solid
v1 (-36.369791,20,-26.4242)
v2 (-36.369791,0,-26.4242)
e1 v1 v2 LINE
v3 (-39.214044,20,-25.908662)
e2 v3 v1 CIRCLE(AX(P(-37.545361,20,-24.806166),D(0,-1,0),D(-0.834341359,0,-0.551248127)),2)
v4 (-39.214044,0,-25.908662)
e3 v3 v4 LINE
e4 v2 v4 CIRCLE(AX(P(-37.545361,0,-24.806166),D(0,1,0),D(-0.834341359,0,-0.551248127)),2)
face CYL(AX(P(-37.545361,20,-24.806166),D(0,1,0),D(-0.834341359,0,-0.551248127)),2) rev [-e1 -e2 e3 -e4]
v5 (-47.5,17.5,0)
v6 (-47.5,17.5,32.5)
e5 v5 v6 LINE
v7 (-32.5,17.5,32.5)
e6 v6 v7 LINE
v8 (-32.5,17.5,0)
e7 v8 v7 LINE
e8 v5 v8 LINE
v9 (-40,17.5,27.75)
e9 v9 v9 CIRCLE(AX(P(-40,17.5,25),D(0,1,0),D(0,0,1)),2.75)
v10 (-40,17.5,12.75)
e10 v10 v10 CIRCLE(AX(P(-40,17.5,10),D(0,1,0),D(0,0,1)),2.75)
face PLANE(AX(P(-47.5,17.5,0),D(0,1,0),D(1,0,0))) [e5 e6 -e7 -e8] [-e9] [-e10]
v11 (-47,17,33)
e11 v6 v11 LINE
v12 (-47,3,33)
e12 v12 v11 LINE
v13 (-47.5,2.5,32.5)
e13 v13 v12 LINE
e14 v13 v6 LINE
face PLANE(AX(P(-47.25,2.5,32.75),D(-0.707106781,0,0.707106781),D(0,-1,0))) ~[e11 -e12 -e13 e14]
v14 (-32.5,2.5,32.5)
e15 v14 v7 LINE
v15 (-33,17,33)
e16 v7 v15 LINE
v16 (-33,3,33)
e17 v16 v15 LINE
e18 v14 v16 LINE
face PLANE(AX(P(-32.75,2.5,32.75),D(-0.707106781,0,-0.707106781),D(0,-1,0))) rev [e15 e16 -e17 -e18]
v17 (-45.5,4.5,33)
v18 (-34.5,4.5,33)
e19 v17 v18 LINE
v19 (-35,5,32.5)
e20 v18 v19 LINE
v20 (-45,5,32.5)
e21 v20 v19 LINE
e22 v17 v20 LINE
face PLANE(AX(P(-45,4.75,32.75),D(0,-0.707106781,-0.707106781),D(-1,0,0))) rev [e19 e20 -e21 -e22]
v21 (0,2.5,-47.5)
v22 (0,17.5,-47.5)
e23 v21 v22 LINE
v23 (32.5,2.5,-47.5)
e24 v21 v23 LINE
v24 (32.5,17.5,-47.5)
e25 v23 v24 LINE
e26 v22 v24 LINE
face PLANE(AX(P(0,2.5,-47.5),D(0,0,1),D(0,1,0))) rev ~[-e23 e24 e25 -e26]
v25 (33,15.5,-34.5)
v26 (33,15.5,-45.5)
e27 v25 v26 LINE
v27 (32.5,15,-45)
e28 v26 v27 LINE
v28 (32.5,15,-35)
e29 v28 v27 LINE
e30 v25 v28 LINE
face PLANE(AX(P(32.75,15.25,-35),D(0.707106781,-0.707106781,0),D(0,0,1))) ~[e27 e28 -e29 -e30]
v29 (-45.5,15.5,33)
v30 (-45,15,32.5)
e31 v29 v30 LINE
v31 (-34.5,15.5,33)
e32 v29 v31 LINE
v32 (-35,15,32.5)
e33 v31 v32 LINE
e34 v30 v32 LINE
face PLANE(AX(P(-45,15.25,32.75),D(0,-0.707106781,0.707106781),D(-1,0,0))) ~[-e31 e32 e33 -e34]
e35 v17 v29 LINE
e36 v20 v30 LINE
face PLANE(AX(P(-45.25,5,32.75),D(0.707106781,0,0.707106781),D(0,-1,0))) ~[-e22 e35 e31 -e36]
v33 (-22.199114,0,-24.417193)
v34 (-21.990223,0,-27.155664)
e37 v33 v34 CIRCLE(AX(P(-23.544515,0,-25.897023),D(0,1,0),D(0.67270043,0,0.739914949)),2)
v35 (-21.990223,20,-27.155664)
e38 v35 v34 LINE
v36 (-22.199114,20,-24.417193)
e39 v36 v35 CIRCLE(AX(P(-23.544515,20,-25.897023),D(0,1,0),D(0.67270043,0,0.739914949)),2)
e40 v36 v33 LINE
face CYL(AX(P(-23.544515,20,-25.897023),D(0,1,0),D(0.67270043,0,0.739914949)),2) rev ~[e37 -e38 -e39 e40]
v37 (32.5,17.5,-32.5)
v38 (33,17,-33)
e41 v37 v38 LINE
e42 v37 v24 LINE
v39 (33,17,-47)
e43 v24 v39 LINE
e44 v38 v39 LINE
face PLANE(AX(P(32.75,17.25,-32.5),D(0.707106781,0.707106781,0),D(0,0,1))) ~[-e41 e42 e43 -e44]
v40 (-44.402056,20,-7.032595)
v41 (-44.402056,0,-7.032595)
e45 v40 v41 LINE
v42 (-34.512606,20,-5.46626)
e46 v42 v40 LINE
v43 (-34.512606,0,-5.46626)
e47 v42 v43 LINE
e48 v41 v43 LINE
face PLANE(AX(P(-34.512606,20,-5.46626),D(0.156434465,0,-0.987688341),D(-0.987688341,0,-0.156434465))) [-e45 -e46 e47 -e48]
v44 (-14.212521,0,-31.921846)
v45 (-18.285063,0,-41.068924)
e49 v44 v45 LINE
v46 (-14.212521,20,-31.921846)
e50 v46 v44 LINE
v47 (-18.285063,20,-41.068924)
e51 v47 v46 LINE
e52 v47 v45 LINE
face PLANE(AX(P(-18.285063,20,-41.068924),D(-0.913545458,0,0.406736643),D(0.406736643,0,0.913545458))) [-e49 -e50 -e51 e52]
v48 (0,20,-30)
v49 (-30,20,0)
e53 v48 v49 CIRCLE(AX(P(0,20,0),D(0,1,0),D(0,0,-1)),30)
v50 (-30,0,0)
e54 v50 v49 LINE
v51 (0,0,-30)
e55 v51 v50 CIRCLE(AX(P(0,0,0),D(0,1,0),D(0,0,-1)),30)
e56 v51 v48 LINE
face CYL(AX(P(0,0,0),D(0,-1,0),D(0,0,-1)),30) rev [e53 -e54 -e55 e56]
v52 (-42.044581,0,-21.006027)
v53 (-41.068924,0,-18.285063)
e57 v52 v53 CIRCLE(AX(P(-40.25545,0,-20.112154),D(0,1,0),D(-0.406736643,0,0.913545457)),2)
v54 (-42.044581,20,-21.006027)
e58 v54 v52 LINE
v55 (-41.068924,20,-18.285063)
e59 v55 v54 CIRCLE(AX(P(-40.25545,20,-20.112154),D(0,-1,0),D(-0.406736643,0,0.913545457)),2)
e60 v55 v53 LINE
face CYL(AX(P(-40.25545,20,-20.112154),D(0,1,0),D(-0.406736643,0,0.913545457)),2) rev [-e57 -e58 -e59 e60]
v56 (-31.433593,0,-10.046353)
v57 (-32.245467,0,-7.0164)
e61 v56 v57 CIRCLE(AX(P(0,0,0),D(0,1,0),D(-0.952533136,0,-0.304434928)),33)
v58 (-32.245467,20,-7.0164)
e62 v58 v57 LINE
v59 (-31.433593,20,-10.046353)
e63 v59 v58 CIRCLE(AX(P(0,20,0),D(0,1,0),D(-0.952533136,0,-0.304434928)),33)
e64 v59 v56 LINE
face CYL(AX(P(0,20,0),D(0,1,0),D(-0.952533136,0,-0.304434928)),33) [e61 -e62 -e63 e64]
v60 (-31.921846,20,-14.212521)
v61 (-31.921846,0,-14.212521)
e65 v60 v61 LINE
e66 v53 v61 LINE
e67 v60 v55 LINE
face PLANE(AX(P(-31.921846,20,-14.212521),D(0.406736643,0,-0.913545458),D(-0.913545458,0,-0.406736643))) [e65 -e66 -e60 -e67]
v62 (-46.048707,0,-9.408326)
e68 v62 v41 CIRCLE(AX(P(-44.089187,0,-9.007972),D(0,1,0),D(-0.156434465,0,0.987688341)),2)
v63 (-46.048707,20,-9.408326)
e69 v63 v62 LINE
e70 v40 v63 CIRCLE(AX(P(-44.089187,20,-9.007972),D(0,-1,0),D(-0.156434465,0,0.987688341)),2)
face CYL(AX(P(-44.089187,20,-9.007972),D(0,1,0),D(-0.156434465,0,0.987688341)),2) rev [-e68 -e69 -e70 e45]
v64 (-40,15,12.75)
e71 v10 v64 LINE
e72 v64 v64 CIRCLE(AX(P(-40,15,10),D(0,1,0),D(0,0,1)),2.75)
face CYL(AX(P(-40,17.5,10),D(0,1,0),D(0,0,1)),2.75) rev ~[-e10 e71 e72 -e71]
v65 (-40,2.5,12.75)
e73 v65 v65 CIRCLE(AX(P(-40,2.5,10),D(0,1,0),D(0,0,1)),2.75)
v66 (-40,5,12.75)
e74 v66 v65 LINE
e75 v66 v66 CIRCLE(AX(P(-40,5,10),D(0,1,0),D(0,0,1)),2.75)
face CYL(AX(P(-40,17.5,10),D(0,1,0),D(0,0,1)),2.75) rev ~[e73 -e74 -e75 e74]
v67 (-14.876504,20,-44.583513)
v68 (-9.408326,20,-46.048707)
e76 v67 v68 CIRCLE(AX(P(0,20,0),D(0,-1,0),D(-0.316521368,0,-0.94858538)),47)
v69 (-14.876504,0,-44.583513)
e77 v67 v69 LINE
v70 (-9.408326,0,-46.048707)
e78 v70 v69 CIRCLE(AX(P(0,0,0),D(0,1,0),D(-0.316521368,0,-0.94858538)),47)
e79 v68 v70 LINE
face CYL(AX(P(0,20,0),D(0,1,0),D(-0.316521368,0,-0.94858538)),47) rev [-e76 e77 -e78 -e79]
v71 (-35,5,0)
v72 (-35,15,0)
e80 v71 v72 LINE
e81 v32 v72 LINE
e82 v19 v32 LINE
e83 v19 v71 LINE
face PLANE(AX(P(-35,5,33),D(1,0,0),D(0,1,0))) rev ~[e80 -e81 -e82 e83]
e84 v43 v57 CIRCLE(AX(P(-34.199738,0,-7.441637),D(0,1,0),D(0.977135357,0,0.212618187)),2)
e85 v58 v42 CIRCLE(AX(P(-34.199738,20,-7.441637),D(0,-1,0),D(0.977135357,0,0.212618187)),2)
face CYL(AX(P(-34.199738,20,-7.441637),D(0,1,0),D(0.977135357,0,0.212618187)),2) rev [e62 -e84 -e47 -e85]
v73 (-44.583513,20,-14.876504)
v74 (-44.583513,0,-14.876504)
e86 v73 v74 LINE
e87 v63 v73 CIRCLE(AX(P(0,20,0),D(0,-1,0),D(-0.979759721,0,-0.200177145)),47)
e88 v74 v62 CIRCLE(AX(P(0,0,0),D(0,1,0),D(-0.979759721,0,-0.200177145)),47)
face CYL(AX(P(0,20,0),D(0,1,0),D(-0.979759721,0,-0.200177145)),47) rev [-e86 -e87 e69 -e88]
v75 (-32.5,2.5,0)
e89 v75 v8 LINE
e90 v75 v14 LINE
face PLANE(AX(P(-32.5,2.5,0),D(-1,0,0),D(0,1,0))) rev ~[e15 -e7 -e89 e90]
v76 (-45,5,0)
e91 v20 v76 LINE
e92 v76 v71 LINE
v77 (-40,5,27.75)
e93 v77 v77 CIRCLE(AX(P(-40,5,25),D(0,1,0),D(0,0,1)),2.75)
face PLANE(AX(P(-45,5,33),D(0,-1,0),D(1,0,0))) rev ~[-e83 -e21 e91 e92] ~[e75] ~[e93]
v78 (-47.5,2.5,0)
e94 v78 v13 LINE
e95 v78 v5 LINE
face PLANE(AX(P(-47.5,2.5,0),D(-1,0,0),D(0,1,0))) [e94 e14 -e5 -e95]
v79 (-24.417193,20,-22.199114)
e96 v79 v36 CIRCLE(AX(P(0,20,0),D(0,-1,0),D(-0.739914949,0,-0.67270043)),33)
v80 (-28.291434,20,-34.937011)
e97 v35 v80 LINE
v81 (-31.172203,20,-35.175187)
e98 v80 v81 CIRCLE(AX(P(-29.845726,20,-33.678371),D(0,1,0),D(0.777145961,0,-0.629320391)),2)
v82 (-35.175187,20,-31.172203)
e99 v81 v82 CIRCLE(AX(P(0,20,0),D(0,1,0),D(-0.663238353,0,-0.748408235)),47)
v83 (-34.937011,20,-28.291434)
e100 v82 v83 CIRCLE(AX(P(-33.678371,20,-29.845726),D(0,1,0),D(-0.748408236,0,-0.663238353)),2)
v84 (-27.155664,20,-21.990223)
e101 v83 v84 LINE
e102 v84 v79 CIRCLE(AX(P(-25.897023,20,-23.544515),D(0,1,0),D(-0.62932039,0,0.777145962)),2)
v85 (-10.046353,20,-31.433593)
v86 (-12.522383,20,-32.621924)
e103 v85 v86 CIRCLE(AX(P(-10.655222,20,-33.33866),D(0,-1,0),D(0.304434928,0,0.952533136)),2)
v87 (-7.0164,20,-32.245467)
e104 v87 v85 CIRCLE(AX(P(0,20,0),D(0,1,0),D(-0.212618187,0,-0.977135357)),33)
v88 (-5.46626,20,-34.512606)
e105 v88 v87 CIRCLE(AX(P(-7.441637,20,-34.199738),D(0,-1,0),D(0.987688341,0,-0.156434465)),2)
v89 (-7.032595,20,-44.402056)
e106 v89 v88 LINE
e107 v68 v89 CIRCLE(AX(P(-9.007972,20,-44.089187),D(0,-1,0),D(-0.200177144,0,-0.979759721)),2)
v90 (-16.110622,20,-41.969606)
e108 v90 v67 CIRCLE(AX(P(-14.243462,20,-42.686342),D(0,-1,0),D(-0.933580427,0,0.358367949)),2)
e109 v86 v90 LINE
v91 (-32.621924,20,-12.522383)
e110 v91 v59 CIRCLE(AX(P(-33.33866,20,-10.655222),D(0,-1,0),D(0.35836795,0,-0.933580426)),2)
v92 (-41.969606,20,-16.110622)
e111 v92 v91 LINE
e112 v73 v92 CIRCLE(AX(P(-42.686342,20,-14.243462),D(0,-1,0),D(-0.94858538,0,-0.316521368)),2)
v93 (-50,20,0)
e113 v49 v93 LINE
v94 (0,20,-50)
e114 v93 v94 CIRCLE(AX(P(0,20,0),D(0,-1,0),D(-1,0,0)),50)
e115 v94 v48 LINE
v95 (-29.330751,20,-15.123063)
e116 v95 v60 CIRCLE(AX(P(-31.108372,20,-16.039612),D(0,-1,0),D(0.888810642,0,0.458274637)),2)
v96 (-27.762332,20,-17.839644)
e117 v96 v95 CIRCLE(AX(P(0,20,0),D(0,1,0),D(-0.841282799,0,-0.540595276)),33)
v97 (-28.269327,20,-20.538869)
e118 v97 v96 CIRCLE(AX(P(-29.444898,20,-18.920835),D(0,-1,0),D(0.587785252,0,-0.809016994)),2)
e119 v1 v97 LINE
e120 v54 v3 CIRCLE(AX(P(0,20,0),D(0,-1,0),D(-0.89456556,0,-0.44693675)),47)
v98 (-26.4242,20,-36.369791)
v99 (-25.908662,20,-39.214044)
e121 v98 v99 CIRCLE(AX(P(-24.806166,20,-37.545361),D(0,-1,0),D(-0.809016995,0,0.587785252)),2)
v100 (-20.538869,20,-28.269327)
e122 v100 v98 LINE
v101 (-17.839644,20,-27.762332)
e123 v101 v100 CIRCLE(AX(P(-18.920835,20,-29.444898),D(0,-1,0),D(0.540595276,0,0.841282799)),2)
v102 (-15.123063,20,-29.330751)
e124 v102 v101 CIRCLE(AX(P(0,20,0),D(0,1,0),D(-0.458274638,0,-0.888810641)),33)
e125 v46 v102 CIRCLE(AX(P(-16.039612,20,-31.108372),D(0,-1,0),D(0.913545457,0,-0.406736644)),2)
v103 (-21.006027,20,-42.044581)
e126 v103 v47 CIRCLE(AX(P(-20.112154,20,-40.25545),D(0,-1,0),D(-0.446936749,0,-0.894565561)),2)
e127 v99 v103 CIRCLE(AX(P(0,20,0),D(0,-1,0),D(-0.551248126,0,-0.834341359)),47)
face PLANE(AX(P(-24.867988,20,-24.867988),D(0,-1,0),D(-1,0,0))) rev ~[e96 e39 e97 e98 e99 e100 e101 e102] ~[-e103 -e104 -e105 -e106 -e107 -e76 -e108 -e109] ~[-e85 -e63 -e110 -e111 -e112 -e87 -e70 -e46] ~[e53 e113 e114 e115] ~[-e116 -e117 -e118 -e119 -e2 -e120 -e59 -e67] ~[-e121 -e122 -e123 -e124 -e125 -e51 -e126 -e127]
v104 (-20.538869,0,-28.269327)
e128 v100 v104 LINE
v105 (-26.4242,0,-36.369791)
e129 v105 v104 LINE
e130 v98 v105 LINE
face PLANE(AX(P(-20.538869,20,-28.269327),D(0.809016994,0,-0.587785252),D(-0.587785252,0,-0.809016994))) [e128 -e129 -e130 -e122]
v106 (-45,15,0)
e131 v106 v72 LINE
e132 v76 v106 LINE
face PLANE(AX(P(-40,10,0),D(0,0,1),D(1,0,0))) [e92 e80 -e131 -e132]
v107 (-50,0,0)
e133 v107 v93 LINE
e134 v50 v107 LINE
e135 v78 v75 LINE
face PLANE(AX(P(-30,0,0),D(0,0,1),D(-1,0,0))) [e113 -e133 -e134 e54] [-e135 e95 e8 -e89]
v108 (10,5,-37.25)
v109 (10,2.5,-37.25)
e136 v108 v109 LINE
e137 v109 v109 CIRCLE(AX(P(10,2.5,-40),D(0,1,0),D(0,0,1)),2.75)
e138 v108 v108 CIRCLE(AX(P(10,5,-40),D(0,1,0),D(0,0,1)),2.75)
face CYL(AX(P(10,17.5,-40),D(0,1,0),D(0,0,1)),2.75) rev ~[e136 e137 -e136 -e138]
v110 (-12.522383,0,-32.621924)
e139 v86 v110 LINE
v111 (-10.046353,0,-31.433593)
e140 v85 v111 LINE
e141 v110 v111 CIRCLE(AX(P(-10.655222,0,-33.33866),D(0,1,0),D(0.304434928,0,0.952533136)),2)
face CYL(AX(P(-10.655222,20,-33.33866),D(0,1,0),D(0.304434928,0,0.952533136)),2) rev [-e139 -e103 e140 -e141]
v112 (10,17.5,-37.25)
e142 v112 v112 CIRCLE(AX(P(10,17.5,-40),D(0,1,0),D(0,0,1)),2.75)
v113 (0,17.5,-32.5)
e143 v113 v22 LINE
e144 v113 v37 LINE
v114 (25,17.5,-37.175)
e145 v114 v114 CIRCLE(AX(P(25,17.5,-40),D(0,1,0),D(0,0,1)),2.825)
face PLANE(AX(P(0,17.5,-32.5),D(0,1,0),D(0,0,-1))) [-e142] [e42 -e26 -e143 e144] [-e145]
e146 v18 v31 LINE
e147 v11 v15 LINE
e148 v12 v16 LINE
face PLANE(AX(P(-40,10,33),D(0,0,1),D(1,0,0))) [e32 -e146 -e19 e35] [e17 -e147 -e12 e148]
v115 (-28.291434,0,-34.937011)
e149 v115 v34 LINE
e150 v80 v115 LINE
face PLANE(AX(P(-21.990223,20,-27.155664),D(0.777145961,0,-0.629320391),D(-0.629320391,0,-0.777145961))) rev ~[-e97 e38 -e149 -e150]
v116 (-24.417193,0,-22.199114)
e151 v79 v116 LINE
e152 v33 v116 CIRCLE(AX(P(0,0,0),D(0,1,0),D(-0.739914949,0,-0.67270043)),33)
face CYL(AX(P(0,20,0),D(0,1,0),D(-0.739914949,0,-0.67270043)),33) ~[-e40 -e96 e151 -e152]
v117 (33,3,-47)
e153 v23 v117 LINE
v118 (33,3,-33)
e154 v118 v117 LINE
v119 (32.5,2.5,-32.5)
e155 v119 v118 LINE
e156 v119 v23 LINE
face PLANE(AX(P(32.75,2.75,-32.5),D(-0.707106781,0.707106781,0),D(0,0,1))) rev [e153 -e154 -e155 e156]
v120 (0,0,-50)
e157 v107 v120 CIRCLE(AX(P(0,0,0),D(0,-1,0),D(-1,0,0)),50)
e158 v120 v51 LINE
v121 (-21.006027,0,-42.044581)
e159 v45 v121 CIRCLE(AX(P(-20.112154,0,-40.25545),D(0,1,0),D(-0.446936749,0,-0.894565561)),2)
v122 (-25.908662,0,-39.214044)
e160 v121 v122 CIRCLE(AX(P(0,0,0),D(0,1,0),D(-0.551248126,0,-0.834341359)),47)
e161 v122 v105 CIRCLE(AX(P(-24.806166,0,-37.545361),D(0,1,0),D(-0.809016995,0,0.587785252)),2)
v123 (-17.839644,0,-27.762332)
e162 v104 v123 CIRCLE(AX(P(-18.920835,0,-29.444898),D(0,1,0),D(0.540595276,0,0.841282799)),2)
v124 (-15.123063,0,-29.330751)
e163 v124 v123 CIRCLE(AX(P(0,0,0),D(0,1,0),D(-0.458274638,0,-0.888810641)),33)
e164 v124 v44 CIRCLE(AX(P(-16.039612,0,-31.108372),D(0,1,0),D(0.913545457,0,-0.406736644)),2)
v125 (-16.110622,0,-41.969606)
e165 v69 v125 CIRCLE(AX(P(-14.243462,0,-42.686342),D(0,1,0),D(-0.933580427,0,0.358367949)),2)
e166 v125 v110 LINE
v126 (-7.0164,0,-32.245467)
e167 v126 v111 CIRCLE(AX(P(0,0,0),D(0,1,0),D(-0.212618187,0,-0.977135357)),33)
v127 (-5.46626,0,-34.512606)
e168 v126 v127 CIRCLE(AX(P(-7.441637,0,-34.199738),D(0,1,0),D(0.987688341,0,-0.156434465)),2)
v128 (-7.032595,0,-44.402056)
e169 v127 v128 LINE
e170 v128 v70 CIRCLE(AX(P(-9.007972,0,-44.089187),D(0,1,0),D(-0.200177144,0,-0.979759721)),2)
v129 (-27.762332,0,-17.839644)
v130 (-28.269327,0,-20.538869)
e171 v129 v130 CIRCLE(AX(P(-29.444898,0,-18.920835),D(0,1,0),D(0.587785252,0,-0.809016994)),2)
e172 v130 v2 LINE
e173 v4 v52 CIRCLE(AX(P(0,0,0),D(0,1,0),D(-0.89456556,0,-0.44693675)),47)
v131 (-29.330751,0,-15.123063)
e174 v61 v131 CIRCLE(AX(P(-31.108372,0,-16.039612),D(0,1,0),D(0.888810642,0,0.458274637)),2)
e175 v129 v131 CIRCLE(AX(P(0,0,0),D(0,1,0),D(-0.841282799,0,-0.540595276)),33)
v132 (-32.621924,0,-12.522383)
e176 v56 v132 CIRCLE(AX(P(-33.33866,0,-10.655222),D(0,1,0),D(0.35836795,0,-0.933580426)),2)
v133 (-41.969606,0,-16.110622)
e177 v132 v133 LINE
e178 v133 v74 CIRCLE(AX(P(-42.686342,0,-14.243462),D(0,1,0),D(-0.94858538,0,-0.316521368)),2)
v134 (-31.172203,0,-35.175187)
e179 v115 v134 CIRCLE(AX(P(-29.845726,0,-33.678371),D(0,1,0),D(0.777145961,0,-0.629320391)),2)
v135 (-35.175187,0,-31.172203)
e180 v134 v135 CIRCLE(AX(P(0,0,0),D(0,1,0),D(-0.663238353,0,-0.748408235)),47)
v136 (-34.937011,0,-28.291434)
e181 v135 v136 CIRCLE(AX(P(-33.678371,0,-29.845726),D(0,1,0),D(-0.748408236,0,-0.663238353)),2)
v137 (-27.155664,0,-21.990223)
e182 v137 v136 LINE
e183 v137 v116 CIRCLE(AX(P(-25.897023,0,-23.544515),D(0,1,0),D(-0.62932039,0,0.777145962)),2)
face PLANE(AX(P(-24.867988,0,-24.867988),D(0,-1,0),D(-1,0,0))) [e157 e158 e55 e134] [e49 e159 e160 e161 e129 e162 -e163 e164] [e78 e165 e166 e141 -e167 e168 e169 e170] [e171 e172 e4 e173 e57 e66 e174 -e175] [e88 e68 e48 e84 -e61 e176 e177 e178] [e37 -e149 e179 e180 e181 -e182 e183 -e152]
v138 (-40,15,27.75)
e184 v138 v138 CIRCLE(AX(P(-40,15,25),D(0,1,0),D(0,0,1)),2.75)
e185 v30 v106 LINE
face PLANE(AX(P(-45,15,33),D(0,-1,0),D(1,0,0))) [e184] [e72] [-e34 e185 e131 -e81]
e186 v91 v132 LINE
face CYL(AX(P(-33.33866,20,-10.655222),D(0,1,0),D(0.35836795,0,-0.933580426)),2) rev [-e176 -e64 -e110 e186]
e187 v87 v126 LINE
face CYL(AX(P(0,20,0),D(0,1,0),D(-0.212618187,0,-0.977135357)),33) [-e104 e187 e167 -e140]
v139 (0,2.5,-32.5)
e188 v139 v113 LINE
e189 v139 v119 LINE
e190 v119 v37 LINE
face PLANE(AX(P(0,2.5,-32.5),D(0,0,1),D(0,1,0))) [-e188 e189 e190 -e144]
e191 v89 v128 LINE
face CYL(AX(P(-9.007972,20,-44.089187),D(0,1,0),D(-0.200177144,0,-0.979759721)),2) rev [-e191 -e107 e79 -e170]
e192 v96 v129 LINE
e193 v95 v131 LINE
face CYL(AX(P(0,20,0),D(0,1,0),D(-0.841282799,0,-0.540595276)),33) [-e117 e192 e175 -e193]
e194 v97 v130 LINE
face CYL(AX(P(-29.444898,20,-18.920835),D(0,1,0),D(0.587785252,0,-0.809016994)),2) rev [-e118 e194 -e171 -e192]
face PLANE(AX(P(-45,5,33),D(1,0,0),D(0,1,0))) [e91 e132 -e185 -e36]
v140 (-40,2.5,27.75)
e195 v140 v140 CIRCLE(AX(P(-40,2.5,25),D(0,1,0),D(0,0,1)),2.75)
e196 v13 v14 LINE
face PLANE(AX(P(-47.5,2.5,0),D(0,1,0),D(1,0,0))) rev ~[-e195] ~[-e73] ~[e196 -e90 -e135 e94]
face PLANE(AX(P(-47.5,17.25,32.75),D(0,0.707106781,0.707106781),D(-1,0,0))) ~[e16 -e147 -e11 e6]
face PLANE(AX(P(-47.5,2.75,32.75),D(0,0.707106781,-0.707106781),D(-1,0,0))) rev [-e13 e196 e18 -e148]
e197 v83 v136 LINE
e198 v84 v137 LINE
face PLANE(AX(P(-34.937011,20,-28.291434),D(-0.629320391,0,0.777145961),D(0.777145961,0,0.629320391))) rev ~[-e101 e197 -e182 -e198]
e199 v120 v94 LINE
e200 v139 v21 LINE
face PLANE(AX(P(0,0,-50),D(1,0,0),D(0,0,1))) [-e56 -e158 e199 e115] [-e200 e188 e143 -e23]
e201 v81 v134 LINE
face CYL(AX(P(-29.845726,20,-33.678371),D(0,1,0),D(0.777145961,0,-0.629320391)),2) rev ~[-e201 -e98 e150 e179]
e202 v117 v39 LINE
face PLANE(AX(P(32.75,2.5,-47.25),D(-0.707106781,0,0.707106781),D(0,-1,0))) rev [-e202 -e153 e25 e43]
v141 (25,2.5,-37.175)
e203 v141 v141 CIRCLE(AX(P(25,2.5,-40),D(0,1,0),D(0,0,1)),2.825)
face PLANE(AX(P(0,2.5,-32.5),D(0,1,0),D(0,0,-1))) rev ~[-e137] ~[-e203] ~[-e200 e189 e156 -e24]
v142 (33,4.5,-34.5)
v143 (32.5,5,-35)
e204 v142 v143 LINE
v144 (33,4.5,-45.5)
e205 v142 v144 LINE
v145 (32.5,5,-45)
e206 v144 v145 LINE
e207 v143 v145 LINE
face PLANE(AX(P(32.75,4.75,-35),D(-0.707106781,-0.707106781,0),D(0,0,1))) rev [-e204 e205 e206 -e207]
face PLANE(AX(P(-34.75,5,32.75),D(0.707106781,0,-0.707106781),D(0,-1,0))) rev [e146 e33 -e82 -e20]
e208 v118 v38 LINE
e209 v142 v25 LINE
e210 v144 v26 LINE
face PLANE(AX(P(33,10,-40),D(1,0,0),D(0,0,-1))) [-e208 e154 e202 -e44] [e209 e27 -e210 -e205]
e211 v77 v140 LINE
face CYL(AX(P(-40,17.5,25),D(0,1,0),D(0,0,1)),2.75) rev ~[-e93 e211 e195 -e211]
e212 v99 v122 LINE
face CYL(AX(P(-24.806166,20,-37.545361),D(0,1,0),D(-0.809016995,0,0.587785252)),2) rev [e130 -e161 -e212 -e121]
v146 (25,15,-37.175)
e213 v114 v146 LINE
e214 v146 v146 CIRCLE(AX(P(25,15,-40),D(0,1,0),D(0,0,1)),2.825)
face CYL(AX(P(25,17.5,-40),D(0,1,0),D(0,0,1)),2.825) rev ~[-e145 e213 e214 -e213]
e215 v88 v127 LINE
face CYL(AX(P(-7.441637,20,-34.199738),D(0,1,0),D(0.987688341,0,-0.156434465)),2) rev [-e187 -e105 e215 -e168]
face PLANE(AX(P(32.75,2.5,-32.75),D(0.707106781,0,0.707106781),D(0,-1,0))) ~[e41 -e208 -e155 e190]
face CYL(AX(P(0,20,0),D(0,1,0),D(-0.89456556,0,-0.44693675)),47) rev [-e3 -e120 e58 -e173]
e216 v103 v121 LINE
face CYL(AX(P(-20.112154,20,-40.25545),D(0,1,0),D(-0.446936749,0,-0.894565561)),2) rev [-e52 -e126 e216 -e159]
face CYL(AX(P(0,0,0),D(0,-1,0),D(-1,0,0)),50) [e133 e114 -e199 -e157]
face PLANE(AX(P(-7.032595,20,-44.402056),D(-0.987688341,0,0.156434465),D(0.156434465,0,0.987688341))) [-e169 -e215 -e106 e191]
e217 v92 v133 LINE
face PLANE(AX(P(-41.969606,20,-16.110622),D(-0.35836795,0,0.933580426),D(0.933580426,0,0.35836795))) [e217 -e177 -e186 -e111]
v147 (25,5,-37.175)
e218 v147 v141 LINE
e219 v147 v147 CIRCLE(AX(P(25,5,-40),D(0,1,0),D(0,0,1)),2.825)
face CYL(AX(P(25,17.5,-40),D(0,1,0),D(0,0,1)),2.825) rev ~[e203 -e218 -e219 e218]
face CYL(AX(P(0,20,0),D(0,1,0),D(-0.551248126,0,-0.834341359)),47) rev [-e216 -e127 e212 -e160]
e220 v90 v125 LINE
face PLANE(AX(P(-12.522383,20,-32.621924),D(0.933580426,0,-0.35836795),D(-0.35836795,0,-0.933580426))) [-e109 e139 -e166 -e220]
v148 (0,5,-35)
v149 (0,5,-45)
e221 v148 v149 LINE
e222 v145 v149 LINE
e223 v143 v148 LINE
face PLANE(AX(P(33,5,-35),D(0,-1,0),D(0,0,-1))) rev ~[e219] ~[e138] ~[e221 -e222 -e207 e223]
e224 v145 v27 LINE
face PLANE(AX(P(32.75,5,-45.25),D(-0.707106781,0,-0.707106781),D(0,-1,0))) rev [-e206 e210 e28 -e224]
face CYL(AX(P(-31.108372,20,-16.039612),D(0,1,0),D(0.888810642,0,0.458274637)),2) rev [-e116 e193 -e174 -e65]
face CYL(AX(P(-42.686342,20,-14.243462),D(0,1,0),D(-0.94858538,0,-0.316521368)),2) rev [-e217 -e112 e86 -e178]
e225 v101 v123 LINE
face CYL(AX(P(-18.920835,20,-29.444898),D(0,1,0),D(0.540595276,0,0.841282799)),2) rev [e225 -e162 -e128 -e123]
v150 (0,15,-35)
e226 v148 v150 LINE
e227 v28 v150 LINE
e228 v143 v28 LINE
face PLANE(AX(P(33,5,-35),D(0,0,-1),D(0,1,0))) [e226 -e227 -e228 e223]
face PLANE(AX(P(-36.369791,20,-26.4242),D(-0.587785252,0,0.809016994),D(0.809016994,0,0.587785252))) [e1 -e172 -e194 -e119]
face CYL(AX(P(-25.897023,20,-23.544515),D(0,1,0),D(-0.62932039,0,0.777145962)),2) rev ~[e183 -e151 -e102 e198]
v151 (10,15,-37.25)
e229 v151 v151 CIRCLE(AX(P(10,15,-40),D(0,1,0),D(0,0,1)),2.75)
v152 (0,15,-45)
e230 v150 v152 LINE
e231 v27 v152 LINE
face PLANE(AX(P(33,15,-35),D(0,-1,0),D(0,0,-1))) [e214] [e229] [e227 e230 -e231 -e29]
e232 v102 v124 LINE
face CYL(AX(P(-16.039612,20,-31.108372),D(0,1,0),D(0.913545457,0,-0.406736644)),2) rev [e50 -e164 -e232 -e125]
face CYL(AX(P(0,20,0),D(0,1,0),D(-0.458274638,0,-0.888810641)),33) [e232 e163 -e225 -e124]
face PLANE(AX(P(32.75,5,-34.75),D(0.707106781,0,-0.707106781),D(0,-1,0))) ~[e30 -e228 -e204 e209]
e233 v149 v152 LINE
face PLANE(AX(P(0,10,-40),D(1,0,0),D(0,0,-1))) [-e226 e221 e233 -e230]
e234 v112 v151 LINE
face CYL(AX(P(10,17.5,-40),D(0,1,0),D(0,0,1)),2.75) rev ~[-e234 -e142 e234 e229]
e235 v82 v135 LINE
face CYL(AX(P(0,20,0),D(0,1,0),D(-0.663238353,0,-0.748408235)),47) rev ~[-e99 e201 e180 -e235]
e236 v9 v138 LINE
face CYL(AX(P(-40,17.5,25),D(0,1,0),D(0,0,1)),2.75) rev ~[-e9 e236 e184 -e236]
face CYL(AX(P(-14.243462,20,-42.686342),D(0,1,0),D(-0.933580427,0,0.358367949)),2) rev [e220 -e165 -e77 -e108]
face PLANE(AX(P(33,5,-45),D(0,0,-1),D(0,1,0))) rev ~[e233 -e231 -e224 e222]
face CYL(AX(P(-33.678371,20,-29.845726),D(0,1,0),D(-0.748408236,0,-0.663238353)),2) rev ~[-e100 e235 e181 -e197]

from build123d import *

# Parameters (mm, degrees)
BOSS_EXTRUDE1_DEPTH = 20
SKETCH2_W           = 15
SKETCH2_H           = 15
BOSS_EXTRUDE2_DEPTH = 33
SKETCH3_W           = 15
SKETCH3_H           = 15
BOSS_EXTRUDE3_DEPTH = 33
SKETCH4_R           = 2.75
SKETCH4_R_2         = 2.825
CUT_EXTRUDE1_DEPTH  = 73.844011422
CUT_EXTRUDE2_DEPTH  = 74.484692283
SKETCH6_W           = 10
SKETCH6_H           = 10
CUT_EXTRUDE3_DEPTH  = 33
SKETCH7_W           = 10
SKETCH7_H           = 10
CUT_EXTRUDE4_DEPTH  = 33
CHAMFER1_SIZE       = 0.5


with BuildPart() as part:
    # Sketch1 → Boss-Extrude1 (new body)
    with BuildSketch(Plane(origin=(0, 0, 0), x_dir=(1, 0, 0), z_dir=(0, 1, 0))):
        with BuildLine():
            Line((0, 50), (0, 30))
            ThreePointArc((0, 30), (-21.213203436, 21.213203436), (-30, 0))
            Line((-30, 0), (-50, 0))
            ThreePointArc((-50, 0), (-35.355339059, 35.355339059), (0, 50))
        make_face()
    extrude(amount=BOSS_EXTRUDE1_DEPTH)

    # Sketch2 → Boss-Extrude2 (add)
    with BuildSketch(Plane.XY):
        with Locations((-40, 10)):
            Rectangle(SKETCH2_W, SKETCH2_H)
    extrude(amount=BOSS_EXTRUDE2_DEPTH)

    # Sketch3 → Boss-Extrude3 (add)
    with BuildSketch(Plane(origin=(0, 0, 0), x_dir=(0, 0, -1), z_dir=(1, 0, 0))):
        with Locations((40, 10)):
            Rectangle(SKETCH3_W, SKETCH3_H)
    extrude(amount=BOSS_EXTRUDE3_DEPTH)

    # Sketch4 → Cut-Extrude1 (cut, through all)
    with BuildSketch(Plane(origin=(0, 17.5, 0), x_dir=(1, 0, 0), z_dir=(0, 1, 0))):
        with Locations(Location((10, 40, 0), (0, 0, 270))):
            Circle(SKETCH4_R)
        with Locations(Location((25, 40, 0), (0, 0, 270))):
            Circle(SKETCH4_R_2)
        with Locations(Location((-40, -10, 0), (0, 0, 270))):
            Circle(SKETCH4_R)
        with Locations(Location((-40, -25, 0), (0, 0, 270))):
            Circle(SKETCH4_R)
    extrude(amount=-CUT_EXTRUDE1_DEPTH, mode=Mode.SUBTRACT)

    # Sketch5 → Cut-Extrude2 (cut, through all)
    with BuildSketch(Plane(origin=(0, 20, 0), x_dir=(1, 0, 0), z_dir=(0, 1, 0))):
        with BuildLine():
            Line((-21.990223117, 27.155663999), (-28.291433976, 34.937011371))
            ThreePointArc((-28.291433976, 34.937011371), (-29.68093252, 35.671569812), (-31.172202606, 35.17518706))
            ThreePointArc((-31.172202606, 35.17518706), (-33.234018716, 33.234018716), (-35.17518706, 31.172202606))
            ThreePointArc((-35.17518706, 31.172202606), (-35.671569812, 29.68093252), (-34.937011371, 28.291433976))
            Line((-34.937011371, 28.291433976), (-27.155663999, 21.990223117))
            ThreePointArc((-27.155663999, 21.990223117), (-25.744904759, 21.550308438), (-24.417193319, 22.199114181))
            ThreePointArc((-24.417193319, 22.199114181), (-23.334523779, 23.334523779), (-22.199114181, 24.417193319))
            ThreePointArc((-22.199114181, 24.417193319), (-21.550308438, 25.744904759), (-21.990223117, 27.155663999))
        make_face()
        with BuildLine():
            Line((-20.538868638, 28.26932746), (-26.424199651, 36.369790662))
            ThreePointArc((-26.424199651, 36.369790662), (-26.774099933, 37.902060905), (-25.908661914, 39.214043885))
            ThreePointArc((-25.908661914, 39.214043885), (-23.5, 40.703193978), (-21.006027233, 42.044581338))
            ThreePointArc((-21.006027233, 42.044581338), (-19.437097633, 42.138081158), (-18.285062818, 41.068923503))
            Line((-18.285062818, 41.068923503), (-14.21252141, 31.921845736))
            ThreePointArc((-14.21252141, 31.921845736), (-14.152727818, 30.445298653), (-15.123063049, 29.330751167))
            ThreePointArc((-15.123063049, 29.330751167), (-16.5, 28.578838325), (-17.839644098, 27.762332367))
            ThreePointArc((-17.839644098, 27.762332367), (-19.290038151, 27.47927115), (-20.538868638, 28.26932746))
        make_face()
        with BuildLine():
            Line((-12.522383321, 32.621923854), (-16.110622392, 41.969606219))
            ThreePointArc((-16.110622392, 41.969606219), (-16.05201939, 43.540226476), (-14.876504274, 44.583512878))
            ThreePointArc((-14.876504274, 44.583512878), (-12.16449512, 45.398513836), (-9.408325818, 46.04870688))
            ThreePointArc((-9.408325818, 46.04870688), (-7.868656664, 45.73295191), (-7.032594847, 44.402056368))
            Line((-7.032594847, 44.402056368), (-5.466259855, 34.512606439))
            ThreePointArc((-5.466259855, 34.512606439), (-5.790662187, 33.070895758), (-7.016400163, 32.245466794))
            ThreePointArc((-7.016400163, 32.245466794), (-8.541028488, 31.875552268), (-10.046352613, 31.433593482))
            ThreePointArc((-10.046352613, 31.433593482), (-11.52058732, 31.535566946), (-12.522383321, 32.621923854))
        make_face()
        with BuildLine():
            Line((-31.921845736, 14.21252141), (-41.068923503, 18.285062818))
            ThreePointArc((-41.068923503, 18.285062818), (-42.138081158, 19.437097633), (-42.044581338, 21.006027233))
            ThreePointArc((-42.044581338, 21.006027233), (-40.703193978, 23.5), (-39.214043885, 25.908661914))
            ThreePointArc((-39.214043885, 25.908661914), (-37.902060905, 26.774099933), (-36.369790662, 26.424199651))
            Line((-36.369790662, 26.424199651), (-28.26932746, 20.538868638))
            ThreePointArc((-28.26932746, 20.538868638), (-27.47927115, 19.290038151), (-27.762332367, 17.839644098))
            ThreePointArc((-27.762332367, 17.839644098), (-28.578838325, 16.5), (-29.330751167, 15.123063049))
            ThreePointArc((-29.330751167, 15.123063049), (-30.445298653, 14.152727818), (-31.921845736, 14.21252141))
        make_face()
        with BuildLine():
            Line((-34.512606439, 5.466259855), (-44.402056368, 7.032594847))
            ThreePointArc((-44.402056368, 7.032594847), (-45.73295191, 7.868656664), (-46.04870688, 9.408325818))
            ThreePointArc((-46.04870688, 9.408325818), (-45.398513836, 12.16449512), (-44.583512878, 14.876504274))
            ThreePointArc((-44.583512878, 14.876504274), (-43.540226476, 16.05201939), (-41.969606219, 16.110622392))
            Line((-41.969606219, 16.110622392), (-32.621923854, 12.522383321))
            ThreePointArc((-32.621923854, 12.522383321), (-31.535566946, 11.52058732), (-31.433593482, 10.046352613))
            ThreePointArc((-31.433593482, 10.046352613), (-31.875552268, 8.541028488), (-32.245466794, 7.016400163))
            ThreePointArc((-32.245466794, 7.016400163), (-33.070895758, 5.790662187), (-34.512606439, 5.466259855))
        make_face()
    extrude(amount=-CUT_EXTRUDE2_DEPTH, mode=Mode.SUBTRACT)

    # Sketch6 → Cut-Extrude3 (cut)
    with BuildSketch(Plane(origin=(33, 0, 0), x_dir=(0, 0, -1), z_dir=(1, 0, 0))):
        with Locations((40, 10)):
            Rectangle(SKETCH6_W, SKETCH6_H)
    extrude(amount=-CUT_EXTRUDE3_DEPTH, mode=Mode.SUBTRACT)

    # Sketch7 → Cut-Extrude4 (cut)
    with BuildSketch(Plane.XY.offset(33)):
        with Locations((-40, 10)):
            Rectangle(SKETCH7_W, SKETCH7_H)
    extrude(amount=-CUT_EXTRUDE4_DEPTH, mode=Mode.SUBTRACT)

    # Chamfer1
    chamfer1_edges = [part.edges().sort_by_distance(p)[0] for p in [
        (-32.5, 10, 33),
        (-40, 17.5, 33),
        (-47.5, 10, 33),
        (-40, 2.5, 33),
        (33, 10, -45),
        (33, 15, -40),
        (33, 10, -35),
        (33, 5, -40),
        (-35, 10, 33),
        (-40, 15, 33),
        (-45, 10, 33),
        (-40, 5, 33),
        (33, 10, -47.5),
        (33, 17.5, -40),
        (33, 10, -32.5),
        (33, 2.5, -40),
    ]]
    chamfer(chamfer1_edges, length=CHAMFER1_SIZE)


solid = part.part
